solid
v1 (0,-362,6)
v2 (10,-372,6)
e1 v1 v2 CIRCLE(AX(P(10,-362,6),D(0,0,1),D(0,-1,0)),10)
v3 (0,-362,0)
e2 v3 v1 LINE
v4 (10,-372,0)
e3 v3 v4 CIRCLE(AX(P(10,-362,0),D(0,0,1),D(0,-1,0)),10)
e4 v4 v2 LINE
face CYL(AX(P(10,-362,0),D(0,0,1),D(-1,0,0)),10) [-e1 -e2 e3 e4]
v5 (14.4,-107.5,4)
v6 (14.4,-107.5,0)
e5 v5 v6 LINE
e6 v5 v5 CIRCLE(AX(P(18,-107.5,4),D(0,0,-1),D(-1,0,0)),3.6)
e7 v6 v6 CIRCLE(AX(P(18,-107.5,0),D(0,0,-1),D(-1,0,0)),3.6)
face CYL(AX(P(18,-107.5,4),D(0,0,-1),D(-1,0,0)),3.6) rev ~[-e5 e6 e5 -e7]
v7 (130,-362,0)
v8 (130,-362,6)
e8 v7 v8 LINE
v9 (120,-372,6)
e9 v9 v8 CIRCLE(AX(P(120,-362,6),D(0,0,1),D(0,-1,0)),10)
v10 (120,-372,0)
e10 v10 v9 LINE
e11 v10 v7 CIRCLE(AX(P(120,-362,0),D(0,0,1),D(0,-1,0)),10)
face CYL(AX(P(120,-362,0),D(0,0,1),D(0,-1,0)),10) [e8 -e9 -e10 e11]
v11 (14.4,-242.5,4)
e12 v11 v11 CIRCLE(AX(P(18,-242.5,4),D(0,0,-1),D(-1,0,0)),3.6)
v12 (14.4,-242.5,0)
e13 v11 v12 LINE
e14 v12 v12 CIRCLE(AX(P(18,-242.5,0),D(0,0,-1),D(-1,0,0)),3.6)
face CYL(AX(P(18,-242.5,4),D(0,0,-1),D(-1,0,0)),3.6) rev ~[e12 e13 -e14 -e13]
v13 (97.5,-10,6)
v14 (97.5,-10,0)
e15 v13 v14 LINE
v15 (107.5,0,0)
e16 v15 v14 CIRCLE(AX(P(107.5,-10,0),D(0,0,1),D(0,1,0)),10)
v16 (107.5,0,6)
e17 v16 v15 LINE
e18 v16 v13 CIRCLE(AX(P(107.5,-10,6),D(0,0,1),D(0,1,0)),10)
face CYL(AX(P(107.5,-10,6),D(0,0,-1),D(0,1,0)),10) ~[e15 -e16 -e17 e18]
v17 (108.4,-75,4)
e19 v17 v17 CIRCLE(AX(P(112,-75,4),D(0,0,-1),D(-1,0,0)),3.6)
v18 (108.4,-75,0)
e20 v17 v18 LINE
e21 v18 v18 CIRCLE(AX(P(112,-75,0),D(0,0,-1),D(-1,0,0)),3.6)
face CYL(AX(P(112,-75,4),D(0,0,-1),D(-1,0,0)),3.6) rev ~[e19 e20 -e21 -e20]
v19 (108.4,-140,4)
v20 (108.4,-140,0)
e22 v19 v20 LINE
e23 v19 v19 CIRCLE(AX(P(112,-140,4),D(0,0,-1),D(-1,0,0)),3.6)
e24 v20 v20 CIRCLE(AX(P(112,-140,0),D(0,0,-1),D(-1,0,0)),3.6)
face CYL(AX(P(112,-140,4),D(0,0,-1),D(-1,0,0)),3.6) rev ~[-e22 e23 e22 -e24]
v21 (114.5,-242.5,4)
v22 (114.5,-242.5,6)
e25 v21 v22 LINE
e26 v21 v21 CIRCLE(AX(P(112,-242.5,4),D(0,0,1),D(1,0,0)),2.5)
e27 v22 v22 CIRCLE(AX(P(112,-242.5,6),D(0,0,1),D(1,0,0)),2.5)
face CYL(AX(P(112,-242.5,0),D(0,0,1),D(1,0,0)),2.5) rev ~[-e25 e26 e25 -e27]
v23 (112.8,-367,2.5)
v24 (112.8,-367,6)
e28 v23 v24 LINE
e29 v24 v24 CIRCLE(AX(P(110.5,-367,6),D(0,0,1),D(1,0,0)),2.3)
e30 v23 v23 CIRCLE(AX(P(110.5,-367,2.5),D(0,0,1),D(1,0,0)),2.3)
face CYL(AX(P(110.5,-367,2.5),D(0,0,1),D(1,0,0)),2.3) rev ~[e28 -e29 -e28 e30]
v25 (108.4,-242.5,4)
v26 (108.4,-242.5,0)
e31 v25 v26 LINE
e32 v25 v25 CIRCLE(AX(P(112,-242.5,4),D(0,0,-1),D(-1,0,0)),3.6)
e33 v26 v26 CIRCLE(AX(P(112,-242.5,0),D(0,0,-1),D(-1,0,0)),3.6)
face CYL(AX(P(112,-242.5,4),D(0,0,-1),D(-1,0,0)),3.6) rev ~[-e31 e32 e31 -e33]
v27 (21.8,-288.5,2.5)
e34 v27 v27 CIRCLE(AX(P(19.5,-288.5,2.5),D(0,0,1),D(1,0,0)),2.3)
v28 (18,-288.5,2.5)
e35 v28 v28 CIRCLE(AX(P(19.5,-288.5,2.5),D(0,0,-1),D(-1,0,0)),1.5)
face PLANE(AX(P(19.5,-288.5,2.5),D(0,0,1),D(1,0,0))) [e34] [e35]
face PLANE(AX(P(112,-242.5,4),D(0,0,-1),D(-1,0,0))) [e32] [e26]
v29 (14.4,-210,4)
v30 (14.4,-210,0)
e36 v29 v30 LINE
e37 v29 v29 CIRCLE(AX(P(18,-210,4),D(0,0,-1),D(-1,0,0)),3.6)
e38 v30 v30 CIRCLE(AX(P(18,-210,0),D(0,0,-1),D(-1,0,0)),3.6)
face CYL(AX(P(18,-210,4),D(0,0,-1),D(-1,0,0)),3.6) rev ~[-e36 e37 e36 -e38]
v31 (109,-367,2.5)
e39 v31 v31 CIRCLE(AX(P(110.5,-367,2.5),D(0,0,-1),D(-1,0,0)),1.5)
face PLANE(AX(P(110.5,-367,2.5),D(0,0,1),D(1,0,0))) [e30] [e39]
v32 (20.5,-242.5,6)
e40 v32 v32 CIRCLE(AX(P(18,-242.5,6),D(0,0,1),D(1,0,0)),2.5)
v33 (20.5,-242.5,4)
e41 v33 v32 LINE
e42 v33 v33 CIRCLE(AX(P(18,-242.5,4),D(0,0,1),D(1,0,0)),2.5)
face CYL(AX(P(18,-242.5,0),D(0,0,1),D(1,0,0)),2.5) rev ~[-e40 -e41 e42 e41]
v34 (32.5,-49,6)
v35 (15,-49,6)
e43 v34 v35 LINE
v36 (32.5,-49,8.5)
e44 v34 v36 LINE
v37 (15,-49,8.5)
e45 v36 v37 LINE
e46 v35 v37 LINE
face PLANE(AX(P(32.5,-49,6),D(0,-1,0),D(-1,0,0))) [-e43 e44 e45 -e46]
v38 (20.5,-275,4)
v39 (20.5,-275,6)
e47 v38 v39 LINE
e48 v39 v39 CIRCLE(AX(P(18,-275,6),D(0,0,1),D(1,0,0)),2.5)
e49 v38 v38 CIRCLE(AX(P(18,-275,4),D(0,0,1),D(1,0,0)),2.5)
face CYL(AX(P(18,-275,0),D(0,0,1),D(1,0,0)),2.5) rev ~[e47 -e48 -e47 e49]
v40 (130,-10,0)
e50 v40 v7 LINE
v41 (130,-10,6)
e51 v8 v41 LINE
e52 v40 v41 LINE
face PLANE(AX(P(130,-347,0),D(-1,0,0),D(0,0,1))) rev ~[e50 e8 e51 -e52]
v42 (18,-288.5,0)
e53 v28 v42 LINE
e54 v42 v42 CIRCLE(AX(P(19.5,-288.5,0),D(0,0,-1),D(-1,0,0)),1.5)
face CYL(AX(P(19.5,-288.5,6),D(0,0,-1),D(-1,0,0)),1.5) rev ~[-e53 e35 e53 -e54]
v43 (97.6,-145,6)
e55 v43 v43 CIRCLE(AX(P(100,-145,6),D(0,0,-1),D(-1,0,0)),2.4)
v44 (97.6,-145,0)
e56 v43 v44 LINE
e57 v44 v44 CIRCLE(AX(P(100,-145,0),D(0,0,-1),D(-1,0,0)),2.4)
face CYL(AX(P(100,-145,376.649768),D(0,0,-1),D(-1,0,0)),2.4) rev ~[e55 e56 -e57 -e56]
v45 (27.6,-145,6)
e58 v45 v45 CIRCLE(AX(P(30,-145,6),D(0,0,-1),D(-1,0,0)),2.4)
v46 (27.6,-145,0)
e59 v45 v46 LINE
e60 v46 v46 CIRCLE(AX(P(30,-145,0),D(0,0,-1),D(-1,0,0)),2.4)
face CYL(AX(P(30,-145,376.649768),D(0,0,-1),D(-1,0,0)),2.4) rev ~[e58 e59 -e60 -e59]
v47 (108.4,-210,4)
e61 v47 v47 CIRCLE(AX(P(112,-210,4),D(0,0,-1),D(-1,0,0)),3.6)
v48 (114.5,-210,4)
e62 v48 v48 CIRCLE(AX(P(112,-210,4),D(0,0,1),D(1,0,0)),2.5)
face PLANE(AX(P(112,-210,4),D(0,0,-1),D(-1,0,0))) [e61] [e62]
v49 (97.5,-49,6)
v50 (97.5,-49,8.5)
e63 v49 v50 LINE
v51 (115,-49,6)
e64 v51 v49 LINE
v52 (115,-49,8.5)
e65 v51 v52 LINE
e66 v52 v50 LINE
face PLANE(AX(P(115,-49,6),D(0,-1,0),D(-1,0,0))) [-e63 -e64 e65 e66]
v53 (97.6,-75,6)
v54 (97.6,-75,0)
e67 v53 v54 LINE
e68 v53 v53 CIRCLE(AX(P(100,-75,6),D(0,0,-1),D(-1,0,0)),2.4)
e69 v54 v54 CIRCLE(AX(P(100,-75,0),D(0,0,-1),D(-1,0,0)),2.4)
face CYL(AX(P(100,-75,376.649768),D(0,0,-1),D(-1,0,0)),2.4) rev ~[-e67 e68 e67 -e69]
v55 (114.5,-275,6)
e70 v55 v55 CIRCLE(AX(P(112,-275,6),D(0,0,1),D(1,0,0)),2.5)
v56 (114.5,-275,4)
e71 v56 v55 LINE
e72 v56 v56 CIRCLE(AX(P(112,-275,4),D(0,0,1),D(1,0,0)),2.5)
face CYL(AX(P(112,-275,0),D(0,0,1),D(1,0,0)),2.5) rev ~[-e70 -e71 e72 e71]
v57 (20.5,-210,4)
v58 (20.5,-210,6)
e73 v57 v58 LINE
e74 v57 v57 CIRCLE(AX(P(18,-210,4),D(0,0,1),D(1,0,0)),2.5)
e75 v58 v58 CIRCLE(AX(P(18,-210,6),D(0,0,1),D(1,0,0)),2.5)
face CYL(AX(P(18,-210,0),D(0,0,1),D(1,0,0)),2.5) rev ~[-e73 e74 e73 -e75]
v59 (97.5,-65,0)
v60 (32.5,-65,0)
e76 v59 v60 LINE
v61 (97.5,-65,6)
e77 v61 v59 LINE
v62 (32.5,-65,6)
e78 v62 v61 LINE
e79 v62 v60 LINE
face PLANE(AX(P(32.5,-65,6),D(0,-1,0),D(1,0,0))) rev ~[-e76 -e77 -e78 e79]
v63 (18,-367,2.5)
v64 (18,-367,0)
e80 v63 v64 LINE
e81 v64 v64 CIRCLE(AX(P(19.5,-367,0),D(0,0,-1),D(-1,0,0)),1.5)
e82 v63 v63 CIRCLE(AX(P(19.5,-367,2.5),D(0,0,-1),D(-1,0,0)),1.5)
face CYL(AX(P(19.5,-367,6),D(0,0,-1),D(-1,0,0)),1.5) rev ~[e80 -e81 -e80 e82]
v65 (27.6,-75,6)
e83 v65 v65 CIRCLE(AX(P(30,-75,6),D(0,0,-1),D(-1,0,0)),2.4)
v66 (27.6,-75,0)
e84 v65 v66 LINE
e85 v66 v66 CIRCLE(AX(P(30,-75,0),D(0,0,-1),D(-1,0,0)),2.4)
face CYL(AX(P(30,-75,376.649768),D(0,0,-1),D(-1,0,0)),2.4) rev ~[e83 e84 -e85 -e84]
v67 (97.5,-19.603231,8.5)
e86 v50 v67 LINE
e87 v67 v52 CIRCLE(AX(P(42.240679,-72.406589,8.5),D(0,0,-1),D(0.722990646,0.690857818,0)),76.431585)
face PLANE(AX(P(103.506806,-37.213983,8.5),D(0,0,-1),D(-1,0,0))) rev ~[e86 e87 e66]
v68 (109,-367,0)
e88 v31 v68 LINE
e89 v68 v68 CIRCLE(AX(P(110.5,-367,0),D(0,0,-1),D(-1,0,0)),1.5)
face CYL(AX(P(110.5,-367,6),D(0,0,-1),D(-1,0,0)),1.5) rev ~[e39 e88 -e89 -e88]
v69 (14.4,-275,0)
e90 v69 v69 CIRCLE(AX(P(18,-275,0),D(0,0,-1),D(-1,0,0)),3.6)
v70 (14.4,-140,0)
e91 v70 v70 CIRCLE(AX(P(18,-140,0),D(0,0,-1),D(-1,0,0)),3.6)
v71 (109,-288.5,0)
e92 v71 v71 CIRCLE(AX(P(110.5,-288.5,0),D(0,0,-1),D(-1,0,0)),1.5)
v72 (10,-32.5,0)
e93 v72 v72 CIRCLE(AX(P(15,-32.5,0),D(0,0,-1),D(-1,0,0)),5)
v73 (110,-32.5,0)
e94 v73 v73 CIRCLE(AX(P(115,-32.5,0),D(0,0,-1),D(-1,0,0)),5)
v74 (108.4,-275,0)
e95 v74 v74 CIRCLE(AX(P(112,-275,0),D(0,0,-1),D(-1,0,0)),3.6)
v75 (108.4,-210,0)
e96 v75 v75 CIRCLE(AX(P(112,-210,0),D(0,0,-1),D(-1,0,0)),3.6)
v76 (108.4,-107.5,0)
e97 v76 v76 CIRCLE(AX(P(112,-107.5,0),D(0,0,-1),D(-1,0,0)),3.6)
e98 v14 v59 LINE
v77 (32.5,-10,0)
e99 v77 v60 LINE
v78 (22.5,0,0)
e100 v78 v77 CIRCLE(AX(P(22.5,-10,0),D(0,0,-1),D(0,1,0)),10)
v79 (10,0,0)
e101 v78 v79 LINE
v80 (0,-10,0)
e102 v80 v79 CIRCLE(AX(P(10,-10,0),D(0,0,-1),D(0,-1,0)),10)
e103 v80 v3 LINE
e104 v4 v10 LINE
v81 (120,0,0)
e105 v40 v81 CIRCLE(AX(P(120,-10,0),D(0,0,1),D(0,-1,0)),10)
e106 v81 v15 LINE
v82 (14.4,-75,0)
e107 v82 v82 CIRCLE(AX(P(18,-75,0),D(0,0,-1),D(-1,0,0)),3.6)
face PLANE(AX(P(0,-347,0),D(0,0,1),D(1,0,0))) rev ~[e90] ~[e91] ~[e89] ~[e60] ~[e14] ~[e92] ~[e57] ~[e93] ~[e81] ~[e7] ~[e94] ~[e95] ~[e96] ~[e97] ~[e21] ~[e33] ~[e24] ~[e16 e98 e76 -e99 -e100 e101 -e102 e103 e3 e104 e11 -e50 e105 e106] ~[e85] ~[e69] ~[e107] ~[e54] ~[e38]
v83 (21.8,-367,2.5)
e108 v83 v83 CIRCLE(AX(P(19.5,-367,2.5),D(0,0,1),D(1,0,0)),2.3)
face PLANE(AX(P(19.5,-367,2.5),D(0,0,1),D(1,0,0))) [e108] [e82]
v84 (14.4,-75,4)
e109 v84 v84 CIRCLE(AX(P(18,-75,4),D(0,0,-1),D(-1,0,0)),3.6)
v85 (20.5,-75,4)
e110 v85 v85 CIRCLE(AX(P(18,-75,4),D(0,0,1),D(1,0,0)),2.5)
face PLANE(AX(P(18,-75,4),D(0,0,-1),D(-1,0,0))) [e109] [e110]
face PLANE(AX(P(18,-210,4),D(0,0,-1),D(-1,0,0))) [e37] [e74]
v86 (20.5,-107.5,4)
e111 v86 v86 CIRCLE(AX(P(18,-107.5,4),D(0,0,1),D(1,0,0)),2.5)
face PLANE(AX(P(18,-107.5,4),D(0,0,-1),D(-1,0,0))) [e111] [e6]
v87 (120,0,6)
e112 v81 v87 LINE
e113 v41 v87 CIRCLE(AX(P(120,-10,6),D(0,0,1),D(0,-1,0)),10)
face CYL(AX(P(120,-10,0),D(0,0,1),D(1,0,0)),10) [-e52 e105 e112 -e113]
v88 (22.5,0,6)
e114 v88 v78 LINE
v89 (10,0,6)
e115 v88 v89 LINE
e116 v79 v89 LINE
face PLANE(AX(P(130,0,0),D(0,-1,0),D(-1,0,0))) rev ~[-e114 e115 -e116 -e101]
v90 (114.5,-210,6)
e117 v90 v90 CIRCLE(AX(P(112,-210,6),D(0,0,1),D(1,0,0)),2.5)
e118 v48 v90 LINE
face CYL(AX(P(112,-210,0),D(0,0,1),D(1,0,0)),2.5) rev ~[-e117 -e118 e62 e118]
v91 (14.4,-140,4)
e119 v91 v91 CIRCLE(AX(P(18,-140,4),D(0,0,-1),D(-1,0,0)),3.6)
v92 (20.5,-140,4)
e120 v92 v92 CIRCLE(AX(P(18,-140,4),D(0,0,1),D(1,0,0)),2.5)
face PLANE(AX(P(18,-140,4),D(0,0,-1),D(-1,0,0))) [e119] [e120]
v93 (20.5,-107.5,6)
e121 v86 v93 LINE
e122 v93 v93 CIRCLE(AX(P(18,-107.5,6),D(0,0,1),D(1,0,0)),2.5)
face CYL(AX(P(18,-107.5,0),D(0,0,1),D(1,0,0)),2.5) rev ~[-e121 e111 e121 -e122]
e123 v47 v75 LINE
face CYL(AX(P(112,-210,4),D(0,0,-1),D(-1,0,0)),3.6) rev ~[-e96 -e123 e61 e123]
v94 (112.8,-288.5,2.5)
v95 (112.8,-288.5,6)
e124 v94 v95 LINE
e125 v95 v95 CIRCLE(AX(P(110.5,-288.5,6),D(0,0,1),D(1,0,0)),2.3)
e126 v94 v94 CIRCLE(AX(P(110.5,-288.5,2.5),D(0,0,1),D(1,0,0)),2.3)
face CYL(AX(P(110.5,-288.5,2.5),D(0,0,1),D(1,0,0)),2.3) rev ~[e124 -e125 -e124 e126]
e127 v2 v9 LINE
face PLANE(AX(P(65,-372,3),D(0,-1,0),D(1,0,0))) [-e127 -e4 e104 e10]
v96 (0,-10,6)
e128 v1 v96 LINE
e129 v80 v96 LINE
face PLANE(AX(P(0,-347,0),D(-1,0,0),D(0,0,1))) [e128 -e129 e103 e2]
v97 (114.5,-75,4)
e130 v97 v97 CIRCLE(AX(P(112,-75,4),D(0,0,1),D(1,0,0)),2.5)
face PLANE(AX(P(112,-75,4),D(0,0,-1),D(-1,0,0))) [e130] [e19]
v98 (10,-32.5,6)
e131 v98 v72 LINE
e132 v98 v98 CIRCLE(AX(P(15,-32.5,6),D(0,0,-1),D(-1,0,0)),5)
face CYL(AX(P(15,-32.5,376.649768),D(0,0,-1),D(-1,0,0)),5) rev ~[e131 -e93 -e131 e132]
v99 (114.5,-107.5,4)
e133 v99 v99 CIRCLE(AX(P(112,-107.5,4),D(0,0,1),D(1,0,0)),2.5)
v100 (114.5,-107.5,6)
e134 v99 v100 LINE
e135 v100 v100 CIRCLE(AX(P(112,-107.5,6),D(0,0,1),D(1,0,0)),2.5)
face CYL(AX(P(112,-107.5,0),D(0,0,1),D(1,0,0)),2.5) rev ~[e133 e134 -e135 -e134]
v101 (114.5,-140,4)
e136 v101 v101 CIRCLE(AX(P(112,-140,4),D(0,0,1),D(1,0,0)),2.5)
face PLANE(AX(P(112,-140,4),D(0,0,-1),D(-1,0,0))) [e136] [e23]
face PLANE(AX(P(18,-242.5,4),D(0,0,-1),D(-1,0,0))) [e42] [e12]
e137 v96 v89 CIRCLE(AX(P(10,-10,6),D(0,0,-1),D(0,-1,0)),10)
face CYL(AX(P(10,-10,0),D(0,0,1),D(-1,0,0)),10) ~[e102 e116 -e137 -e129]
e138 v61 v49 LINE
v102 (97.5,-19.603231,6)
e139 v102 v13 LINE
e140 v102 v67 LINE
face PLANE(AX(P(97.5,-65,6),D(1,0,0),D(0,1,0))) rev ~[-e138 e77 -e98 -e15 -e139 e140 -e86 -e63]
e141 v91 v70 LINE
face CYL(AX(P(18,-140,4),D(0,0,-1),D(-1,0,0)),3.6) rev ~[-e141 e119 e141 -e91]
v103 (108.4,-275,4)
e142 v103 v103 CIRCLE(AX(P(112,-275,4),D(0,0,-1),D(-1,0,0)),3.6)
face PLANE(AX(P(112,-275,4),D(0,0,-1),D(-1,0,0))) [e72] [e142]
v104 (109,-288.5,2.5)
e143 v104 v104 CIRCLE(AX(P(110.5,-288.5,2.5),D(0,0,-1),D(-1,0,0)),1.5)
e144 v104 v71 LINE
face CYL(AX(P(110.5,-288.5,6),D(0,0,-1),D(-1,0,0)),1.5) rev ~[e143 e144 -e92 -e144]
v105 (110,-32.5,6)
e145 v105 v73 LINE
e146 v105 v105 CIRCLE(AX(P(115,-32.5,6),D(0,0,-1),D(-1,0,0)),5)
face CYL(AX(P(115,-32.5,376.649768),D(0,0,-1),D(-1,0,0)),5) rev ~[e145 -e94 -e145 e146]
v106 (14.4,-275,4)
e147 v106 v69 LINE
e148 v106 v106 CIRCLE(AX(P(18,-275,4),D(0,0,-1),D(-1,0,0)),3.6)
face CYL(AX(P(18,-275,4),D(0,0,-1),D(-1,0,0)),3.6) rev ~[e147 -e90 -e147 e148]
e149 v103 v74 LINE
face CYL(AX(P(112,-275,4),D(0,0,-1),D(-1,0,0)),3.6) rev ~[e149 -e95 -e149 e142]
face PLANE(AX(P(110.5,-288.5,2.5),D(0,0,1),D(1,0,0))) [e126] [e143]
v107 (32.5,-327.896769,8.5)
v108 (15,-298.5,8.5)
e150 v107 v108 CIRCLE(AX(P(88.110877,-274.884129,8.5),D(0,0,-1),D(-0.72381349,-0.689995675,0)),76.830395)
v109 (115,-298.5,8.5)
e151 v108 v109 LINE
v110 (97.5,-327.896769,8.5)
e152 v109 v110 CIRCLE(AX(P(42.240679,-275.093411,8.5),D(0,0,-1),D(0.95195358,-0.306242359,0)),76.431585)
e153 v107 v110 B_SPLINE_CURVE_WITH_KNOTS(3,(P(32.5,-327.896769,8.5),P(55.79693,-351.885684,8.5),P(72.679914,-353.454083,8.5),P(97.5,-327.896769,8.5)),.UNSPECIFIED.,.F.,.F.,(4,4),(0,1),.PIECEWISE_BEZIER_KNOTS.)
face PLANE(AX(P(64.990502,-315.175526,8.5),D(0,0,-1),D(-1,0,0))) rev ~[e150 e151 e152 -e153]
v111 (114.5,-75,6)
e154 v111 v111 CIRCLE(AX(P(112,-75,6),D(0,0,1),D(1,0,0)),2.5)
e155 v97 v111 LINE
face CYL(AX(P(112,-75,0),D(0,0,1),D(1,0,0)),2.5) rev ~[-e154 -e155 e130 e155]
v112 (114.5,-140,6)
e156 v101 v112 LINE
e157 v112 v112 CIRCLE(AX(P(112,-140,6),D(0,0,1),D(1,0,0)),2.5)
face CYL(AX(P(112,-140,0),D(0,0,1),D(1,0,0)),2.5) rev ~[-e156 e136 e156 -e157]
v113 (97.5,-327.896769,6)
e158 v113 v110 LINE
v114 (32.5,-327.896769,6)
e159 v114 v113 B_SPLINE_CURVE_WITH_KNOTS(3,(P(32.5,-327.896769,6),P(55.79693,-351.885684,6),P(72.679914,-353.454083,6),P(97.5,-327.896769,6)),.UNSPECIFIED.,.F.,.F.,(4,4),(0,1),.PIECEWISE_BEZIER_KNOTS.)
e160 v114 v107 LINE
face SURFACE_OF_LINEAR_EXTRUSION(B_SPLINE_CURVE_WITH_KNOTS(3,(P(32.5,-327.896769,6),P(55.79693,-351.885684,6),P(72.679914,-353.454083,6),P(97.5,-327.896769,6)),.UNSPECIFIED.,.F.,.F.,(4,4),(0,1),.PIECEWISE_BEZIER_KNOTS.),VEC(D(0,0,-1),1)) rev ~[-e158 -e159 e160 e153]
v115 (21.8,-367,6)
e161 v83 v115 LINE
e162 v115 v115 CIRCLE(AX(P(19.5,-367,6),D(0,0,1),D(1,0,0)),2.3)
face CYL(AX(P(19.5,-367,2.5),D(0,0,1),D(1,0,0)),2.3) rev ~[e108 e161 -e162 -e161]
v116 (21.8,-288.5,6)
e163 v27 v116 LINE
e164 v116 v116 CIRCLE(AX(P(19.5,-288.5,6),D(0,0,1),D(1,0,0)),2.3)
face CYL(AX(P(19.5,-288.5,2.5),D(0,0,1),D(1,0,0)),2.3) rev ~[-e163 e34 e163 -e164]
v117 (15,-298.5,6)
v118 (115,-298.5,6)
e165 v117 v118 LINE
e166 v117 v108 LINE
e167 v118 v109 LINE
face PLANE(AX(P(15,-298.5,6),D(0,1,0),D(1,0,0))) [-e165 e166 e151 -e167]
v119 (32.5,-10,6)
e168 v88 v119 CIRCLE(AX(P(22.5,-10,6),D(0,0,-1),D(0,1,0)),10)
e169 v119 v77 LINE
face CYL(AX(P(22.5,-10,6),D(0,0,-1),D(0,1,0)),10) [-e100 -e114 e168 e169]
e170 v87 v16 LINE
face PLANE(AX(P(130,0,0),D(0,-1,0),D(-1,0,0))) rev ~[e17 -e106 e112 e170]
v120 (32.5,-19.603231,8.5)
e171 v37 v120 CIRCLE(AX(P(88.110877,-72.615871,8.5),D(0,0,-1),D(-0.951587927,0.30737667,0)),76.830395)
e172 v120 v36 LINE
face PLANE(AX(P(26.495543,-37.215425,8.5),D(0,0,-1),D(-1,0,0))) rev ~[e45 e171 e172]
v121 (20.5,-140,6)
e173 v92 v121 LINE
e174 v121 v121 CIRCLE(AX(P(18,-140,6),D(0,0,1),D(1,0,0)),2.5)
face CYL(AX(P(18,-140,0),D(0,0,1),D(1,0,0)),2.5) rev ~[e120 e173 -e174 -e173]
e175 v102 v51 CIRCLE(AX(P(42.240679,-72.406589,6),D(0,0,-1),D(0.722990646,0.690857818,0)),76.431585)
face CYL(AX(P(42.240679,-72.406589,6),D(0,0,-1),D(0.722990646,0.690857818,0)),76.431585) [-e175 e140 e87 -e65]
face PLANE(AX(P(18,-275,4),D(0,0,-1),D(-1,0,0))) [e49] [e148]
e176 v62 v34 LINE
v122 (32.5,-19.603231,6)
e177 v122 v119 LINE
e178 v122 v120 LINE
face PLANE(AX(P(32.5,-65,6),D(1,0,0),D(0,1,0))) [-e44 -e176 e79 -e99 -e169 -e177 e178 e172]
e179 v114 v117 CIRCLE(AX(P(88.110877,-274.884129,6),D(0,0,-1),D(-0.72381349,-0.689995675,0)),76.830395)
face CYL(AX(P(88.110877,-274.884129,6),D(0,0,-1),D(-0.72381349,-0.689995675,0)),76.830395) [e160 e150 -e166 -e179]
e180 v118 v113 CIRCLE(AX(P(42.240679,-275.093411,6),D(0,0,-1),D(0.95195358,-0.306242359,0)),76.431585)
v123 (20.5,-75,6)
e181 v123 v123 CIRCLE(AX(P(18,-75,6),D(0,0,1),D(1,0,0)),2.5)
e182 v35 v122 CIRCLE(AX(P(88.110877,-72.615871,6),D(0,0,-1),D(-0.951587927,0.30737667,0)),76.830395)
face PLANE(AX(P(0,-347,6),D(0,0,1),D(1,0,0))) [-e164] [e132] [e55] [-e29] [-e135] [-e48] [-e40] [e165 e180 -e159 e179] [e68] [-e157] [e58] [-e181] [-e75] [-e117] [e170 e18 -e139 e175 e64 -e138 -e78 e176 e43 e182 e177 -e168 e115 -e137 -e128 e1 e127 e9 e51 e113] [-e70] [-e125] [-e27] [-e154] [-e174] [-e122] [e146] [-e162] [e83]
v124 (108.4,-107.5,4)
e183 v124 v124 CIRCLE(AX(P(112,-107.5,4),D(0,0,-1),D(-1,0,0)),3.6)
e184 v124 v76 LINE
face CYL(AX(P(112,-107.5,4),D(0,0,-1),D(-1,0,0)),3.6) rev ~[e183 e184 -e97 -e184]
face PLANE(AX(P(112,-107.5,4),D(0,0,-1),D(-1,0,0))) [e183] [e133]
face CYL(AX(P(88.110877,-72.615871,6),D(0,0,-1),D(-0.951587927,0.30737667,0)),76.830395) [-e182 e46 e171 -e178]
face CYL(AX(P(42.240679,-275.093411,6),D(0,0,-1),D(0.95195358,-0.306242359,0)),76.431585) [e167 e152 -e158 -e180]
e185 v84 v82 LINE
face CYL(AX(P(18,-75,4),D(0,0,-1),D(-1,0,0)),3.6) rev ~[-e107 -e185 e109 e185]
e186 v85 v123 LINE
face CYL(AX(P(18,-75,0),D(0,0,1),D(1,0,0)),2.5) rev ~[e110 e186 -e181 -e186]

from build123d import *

# Parameters (mm, degrees)
SKETCH_1_W                     = 130
SKETCH_1_H                     = 347
EXTRUDE_1_DEPTH                = 6
EXTRUDE_2_DEPTH                = 2.5
SKETCH_3_W                     = 65
SKETCH_3_H                     = 65
CUT_EXTRUDE_1_DEPTH            = 371.600863592
EXTRUDE_3_DEPTH                = 2.5
EXTRUDE_4_DEPTH                = 2.5
HOLE_WIZARD_10_0_10_1_D        = 10
HOLE_WIZARD_4_8_4_8_1_D        = 4.8
HOLE_WIZARD_1_D                = 5
HOLE_WIZARD_1_DEPTH            = 8.5
HOLE_WIZARD_1_CBORE_D          = 7.2
HOLE_WIZARD_1_CBORE_DEPTH      = 4
FILLET_1_R                     = 10
SKETCH_14_W                    = 130
SKETCH_14_H                    = 6
EXTRUDE_5_DEPTH                = 25
HOLE_WIZARD_M2_5_1_D           = 3
HOLE_WIZARD_M2_5_1_CBORE_D     = 4.6
HOLE_WIZARD_M2_5_1_CBORE_DEPTH = 3.5
FILLET_2_R                     = 10


with BuildPart() as part:
    # 草图1 → 凸台-拉伸1 (new body)
    with BuildSketch(Plane(origin=(0, 0, 0), x_dir=(-1, 0, 0), z_dir=(0, 0, -1))):
        with Locations((-65, -173.5)):
            Rectangle(SKETCH_1_W, SKETCH_1_H)
    extrude(amount=-EXTRUDE_1_DEPTH)

    # 草图2 → 凸台-拉伸2 (add)
    with BuildSketch(Plane.XY.offset(6)):
        with BuildLine():
            Line((15, -298.5), (115, -298.5))
            ThreePointArc((115, -298.5), (107.915907861, -314.190105481), (97.5, -327.896769368))
            add(Edge.make_bspline(
                [(32.5, -327.896769368), (55.796929517, -351.885684413), (72.679914197, -353.454082804), (97.5, -327.896769368)],
                knots=[0, 0, 0, 0, 1, 1, 1, 1], degree=3))
            ThreePointArc((32.5, -327.896769368), (22.092962751, -314.184824775), (15, -298.5))
        make_face()
    extrude(amount=EXTRUDE_2_DEPTH)

    # 草图3 → 切除-拉伸1 (cut, through all)
    with BuildSketch(Plane.XY.offset(6)):
        with Locations((65, -32.5)):
            Rectangle(SKETCH_3_W, SKETCH_3_H)
    extrude(amount=-CUT_EXTRUDE_1_DEPTH, mode=Mode.SUBTRACT)

    # 草图4 → 凸台-拉伸3 (add)
    with BuildSketch(Plane.XY.offset(6)):
        with BuildLine():
            Line((115, -49), (97.5, -49))
            Line((97.5, -49), (97.5, -19.603230632))
            ThreePointArc((97.5, -19.603230632), (107.915907861, -33.309894519), (115, -49))
        make_face()
    extrude(amount=EXTRUDE_3_DEPTH)

    # 草图5 → 凸台-拉伸4 (add)
    with BuildSketch(Plane.XY.offset(6)):
        with BuildLine():
            Line((32.5, -19.603230632), (32.5, -49))
            Line((32.5, -49), (15, -49))
            ThreePointArc((15, -49), (22.092962751, -33.315175225), (32.5, -19.603230632))
        make_face()
    extrude(amount=EXTRUDE_4_DEPTH)

    # Ø10.0 (10) 直径孔1 (through all)
    with Locations(Plane.XY.offset(6)):
        with Locations((15, -32.5), (115, -32.5)):
            Hole(HOLE_WIZARD_10_0_10_1_D / 2)

    # Ø4.8 (4.8) 直径孔1 (through all)
    with Locations(Plane.XY.offset(6)):
        with Locations((100, -75), (30, -145), (100, -145), (30, -75)):
            Hole(HOLE_WIZARD_4_8_4_8_1_D / 2)

    # 孔1
    with Locations(Plane(origin=(0, 0, 0), x_dir=(-1, 0, 0), z_dir=(0, 0, -1))):
        with Locations((-18, -75), (-112, -210), (-112, -140), (-112, -107.5), (-18, -107.5), (-18, -140), (-18, -210), (-18, -242.5), (-18, -275), (-112, -275), (-112, -242.5), (-112, -75)):
            CounterBoreHole(HOLE_WIZARD_1_D / 2, HOLE_WIZARD_1_CBORE_D / 2, HOLE_WIZARD_1_CBORE_DEPTH, depth=HOLE_WIZARD_1_DEPTH)

    # 圆角1
    fillet_1_edges = [part.edges().sort_by_distance(p)[0] for p in [
        (97.5, 0, 3),
        (32.5, 0, 3),
        (130, 0, 3),
        (0, 0, 3),
    ]]
    fillet(fillet_1_edges, radius=FILLET_1_R)

    # 草图14 → 凸台-拉伸5 (add)
    with BuildSketch(Plane.XZ.offset(347)):
        with Locations((65, 3)):
            Rectangle(SKETCH_14_W, SKETCH_14_H)
    extrude(amount=EXTRUDE_5_DEPTH)

    # M2.5 六角头机械螺钉的柱形沉头孔1 (through all)
    with Locations(Plane.XY.offset(6)):
        with Locations((110.5, -288.5), (19.5, -288.5), (19.5, -367), (110.5, -367)):
            CounterBoreHole(HOLE_WIZARD_M2_5_1_D / 2, HOLE_WIZARD_M2_5_1_CBORE_D / 2, HOLE_WIZARD_M2_5_1_CBORE_DEPTH)

    # 圆角2
    fillet_2_edges = [part.edges().sort_by_distance(p)[0] for p in [
        (0, -372, 3),
        (130, -372, 3),
    ]]
    fillet(fillet_2_edges, radius=FILLET_2_R)


solid = part.part
